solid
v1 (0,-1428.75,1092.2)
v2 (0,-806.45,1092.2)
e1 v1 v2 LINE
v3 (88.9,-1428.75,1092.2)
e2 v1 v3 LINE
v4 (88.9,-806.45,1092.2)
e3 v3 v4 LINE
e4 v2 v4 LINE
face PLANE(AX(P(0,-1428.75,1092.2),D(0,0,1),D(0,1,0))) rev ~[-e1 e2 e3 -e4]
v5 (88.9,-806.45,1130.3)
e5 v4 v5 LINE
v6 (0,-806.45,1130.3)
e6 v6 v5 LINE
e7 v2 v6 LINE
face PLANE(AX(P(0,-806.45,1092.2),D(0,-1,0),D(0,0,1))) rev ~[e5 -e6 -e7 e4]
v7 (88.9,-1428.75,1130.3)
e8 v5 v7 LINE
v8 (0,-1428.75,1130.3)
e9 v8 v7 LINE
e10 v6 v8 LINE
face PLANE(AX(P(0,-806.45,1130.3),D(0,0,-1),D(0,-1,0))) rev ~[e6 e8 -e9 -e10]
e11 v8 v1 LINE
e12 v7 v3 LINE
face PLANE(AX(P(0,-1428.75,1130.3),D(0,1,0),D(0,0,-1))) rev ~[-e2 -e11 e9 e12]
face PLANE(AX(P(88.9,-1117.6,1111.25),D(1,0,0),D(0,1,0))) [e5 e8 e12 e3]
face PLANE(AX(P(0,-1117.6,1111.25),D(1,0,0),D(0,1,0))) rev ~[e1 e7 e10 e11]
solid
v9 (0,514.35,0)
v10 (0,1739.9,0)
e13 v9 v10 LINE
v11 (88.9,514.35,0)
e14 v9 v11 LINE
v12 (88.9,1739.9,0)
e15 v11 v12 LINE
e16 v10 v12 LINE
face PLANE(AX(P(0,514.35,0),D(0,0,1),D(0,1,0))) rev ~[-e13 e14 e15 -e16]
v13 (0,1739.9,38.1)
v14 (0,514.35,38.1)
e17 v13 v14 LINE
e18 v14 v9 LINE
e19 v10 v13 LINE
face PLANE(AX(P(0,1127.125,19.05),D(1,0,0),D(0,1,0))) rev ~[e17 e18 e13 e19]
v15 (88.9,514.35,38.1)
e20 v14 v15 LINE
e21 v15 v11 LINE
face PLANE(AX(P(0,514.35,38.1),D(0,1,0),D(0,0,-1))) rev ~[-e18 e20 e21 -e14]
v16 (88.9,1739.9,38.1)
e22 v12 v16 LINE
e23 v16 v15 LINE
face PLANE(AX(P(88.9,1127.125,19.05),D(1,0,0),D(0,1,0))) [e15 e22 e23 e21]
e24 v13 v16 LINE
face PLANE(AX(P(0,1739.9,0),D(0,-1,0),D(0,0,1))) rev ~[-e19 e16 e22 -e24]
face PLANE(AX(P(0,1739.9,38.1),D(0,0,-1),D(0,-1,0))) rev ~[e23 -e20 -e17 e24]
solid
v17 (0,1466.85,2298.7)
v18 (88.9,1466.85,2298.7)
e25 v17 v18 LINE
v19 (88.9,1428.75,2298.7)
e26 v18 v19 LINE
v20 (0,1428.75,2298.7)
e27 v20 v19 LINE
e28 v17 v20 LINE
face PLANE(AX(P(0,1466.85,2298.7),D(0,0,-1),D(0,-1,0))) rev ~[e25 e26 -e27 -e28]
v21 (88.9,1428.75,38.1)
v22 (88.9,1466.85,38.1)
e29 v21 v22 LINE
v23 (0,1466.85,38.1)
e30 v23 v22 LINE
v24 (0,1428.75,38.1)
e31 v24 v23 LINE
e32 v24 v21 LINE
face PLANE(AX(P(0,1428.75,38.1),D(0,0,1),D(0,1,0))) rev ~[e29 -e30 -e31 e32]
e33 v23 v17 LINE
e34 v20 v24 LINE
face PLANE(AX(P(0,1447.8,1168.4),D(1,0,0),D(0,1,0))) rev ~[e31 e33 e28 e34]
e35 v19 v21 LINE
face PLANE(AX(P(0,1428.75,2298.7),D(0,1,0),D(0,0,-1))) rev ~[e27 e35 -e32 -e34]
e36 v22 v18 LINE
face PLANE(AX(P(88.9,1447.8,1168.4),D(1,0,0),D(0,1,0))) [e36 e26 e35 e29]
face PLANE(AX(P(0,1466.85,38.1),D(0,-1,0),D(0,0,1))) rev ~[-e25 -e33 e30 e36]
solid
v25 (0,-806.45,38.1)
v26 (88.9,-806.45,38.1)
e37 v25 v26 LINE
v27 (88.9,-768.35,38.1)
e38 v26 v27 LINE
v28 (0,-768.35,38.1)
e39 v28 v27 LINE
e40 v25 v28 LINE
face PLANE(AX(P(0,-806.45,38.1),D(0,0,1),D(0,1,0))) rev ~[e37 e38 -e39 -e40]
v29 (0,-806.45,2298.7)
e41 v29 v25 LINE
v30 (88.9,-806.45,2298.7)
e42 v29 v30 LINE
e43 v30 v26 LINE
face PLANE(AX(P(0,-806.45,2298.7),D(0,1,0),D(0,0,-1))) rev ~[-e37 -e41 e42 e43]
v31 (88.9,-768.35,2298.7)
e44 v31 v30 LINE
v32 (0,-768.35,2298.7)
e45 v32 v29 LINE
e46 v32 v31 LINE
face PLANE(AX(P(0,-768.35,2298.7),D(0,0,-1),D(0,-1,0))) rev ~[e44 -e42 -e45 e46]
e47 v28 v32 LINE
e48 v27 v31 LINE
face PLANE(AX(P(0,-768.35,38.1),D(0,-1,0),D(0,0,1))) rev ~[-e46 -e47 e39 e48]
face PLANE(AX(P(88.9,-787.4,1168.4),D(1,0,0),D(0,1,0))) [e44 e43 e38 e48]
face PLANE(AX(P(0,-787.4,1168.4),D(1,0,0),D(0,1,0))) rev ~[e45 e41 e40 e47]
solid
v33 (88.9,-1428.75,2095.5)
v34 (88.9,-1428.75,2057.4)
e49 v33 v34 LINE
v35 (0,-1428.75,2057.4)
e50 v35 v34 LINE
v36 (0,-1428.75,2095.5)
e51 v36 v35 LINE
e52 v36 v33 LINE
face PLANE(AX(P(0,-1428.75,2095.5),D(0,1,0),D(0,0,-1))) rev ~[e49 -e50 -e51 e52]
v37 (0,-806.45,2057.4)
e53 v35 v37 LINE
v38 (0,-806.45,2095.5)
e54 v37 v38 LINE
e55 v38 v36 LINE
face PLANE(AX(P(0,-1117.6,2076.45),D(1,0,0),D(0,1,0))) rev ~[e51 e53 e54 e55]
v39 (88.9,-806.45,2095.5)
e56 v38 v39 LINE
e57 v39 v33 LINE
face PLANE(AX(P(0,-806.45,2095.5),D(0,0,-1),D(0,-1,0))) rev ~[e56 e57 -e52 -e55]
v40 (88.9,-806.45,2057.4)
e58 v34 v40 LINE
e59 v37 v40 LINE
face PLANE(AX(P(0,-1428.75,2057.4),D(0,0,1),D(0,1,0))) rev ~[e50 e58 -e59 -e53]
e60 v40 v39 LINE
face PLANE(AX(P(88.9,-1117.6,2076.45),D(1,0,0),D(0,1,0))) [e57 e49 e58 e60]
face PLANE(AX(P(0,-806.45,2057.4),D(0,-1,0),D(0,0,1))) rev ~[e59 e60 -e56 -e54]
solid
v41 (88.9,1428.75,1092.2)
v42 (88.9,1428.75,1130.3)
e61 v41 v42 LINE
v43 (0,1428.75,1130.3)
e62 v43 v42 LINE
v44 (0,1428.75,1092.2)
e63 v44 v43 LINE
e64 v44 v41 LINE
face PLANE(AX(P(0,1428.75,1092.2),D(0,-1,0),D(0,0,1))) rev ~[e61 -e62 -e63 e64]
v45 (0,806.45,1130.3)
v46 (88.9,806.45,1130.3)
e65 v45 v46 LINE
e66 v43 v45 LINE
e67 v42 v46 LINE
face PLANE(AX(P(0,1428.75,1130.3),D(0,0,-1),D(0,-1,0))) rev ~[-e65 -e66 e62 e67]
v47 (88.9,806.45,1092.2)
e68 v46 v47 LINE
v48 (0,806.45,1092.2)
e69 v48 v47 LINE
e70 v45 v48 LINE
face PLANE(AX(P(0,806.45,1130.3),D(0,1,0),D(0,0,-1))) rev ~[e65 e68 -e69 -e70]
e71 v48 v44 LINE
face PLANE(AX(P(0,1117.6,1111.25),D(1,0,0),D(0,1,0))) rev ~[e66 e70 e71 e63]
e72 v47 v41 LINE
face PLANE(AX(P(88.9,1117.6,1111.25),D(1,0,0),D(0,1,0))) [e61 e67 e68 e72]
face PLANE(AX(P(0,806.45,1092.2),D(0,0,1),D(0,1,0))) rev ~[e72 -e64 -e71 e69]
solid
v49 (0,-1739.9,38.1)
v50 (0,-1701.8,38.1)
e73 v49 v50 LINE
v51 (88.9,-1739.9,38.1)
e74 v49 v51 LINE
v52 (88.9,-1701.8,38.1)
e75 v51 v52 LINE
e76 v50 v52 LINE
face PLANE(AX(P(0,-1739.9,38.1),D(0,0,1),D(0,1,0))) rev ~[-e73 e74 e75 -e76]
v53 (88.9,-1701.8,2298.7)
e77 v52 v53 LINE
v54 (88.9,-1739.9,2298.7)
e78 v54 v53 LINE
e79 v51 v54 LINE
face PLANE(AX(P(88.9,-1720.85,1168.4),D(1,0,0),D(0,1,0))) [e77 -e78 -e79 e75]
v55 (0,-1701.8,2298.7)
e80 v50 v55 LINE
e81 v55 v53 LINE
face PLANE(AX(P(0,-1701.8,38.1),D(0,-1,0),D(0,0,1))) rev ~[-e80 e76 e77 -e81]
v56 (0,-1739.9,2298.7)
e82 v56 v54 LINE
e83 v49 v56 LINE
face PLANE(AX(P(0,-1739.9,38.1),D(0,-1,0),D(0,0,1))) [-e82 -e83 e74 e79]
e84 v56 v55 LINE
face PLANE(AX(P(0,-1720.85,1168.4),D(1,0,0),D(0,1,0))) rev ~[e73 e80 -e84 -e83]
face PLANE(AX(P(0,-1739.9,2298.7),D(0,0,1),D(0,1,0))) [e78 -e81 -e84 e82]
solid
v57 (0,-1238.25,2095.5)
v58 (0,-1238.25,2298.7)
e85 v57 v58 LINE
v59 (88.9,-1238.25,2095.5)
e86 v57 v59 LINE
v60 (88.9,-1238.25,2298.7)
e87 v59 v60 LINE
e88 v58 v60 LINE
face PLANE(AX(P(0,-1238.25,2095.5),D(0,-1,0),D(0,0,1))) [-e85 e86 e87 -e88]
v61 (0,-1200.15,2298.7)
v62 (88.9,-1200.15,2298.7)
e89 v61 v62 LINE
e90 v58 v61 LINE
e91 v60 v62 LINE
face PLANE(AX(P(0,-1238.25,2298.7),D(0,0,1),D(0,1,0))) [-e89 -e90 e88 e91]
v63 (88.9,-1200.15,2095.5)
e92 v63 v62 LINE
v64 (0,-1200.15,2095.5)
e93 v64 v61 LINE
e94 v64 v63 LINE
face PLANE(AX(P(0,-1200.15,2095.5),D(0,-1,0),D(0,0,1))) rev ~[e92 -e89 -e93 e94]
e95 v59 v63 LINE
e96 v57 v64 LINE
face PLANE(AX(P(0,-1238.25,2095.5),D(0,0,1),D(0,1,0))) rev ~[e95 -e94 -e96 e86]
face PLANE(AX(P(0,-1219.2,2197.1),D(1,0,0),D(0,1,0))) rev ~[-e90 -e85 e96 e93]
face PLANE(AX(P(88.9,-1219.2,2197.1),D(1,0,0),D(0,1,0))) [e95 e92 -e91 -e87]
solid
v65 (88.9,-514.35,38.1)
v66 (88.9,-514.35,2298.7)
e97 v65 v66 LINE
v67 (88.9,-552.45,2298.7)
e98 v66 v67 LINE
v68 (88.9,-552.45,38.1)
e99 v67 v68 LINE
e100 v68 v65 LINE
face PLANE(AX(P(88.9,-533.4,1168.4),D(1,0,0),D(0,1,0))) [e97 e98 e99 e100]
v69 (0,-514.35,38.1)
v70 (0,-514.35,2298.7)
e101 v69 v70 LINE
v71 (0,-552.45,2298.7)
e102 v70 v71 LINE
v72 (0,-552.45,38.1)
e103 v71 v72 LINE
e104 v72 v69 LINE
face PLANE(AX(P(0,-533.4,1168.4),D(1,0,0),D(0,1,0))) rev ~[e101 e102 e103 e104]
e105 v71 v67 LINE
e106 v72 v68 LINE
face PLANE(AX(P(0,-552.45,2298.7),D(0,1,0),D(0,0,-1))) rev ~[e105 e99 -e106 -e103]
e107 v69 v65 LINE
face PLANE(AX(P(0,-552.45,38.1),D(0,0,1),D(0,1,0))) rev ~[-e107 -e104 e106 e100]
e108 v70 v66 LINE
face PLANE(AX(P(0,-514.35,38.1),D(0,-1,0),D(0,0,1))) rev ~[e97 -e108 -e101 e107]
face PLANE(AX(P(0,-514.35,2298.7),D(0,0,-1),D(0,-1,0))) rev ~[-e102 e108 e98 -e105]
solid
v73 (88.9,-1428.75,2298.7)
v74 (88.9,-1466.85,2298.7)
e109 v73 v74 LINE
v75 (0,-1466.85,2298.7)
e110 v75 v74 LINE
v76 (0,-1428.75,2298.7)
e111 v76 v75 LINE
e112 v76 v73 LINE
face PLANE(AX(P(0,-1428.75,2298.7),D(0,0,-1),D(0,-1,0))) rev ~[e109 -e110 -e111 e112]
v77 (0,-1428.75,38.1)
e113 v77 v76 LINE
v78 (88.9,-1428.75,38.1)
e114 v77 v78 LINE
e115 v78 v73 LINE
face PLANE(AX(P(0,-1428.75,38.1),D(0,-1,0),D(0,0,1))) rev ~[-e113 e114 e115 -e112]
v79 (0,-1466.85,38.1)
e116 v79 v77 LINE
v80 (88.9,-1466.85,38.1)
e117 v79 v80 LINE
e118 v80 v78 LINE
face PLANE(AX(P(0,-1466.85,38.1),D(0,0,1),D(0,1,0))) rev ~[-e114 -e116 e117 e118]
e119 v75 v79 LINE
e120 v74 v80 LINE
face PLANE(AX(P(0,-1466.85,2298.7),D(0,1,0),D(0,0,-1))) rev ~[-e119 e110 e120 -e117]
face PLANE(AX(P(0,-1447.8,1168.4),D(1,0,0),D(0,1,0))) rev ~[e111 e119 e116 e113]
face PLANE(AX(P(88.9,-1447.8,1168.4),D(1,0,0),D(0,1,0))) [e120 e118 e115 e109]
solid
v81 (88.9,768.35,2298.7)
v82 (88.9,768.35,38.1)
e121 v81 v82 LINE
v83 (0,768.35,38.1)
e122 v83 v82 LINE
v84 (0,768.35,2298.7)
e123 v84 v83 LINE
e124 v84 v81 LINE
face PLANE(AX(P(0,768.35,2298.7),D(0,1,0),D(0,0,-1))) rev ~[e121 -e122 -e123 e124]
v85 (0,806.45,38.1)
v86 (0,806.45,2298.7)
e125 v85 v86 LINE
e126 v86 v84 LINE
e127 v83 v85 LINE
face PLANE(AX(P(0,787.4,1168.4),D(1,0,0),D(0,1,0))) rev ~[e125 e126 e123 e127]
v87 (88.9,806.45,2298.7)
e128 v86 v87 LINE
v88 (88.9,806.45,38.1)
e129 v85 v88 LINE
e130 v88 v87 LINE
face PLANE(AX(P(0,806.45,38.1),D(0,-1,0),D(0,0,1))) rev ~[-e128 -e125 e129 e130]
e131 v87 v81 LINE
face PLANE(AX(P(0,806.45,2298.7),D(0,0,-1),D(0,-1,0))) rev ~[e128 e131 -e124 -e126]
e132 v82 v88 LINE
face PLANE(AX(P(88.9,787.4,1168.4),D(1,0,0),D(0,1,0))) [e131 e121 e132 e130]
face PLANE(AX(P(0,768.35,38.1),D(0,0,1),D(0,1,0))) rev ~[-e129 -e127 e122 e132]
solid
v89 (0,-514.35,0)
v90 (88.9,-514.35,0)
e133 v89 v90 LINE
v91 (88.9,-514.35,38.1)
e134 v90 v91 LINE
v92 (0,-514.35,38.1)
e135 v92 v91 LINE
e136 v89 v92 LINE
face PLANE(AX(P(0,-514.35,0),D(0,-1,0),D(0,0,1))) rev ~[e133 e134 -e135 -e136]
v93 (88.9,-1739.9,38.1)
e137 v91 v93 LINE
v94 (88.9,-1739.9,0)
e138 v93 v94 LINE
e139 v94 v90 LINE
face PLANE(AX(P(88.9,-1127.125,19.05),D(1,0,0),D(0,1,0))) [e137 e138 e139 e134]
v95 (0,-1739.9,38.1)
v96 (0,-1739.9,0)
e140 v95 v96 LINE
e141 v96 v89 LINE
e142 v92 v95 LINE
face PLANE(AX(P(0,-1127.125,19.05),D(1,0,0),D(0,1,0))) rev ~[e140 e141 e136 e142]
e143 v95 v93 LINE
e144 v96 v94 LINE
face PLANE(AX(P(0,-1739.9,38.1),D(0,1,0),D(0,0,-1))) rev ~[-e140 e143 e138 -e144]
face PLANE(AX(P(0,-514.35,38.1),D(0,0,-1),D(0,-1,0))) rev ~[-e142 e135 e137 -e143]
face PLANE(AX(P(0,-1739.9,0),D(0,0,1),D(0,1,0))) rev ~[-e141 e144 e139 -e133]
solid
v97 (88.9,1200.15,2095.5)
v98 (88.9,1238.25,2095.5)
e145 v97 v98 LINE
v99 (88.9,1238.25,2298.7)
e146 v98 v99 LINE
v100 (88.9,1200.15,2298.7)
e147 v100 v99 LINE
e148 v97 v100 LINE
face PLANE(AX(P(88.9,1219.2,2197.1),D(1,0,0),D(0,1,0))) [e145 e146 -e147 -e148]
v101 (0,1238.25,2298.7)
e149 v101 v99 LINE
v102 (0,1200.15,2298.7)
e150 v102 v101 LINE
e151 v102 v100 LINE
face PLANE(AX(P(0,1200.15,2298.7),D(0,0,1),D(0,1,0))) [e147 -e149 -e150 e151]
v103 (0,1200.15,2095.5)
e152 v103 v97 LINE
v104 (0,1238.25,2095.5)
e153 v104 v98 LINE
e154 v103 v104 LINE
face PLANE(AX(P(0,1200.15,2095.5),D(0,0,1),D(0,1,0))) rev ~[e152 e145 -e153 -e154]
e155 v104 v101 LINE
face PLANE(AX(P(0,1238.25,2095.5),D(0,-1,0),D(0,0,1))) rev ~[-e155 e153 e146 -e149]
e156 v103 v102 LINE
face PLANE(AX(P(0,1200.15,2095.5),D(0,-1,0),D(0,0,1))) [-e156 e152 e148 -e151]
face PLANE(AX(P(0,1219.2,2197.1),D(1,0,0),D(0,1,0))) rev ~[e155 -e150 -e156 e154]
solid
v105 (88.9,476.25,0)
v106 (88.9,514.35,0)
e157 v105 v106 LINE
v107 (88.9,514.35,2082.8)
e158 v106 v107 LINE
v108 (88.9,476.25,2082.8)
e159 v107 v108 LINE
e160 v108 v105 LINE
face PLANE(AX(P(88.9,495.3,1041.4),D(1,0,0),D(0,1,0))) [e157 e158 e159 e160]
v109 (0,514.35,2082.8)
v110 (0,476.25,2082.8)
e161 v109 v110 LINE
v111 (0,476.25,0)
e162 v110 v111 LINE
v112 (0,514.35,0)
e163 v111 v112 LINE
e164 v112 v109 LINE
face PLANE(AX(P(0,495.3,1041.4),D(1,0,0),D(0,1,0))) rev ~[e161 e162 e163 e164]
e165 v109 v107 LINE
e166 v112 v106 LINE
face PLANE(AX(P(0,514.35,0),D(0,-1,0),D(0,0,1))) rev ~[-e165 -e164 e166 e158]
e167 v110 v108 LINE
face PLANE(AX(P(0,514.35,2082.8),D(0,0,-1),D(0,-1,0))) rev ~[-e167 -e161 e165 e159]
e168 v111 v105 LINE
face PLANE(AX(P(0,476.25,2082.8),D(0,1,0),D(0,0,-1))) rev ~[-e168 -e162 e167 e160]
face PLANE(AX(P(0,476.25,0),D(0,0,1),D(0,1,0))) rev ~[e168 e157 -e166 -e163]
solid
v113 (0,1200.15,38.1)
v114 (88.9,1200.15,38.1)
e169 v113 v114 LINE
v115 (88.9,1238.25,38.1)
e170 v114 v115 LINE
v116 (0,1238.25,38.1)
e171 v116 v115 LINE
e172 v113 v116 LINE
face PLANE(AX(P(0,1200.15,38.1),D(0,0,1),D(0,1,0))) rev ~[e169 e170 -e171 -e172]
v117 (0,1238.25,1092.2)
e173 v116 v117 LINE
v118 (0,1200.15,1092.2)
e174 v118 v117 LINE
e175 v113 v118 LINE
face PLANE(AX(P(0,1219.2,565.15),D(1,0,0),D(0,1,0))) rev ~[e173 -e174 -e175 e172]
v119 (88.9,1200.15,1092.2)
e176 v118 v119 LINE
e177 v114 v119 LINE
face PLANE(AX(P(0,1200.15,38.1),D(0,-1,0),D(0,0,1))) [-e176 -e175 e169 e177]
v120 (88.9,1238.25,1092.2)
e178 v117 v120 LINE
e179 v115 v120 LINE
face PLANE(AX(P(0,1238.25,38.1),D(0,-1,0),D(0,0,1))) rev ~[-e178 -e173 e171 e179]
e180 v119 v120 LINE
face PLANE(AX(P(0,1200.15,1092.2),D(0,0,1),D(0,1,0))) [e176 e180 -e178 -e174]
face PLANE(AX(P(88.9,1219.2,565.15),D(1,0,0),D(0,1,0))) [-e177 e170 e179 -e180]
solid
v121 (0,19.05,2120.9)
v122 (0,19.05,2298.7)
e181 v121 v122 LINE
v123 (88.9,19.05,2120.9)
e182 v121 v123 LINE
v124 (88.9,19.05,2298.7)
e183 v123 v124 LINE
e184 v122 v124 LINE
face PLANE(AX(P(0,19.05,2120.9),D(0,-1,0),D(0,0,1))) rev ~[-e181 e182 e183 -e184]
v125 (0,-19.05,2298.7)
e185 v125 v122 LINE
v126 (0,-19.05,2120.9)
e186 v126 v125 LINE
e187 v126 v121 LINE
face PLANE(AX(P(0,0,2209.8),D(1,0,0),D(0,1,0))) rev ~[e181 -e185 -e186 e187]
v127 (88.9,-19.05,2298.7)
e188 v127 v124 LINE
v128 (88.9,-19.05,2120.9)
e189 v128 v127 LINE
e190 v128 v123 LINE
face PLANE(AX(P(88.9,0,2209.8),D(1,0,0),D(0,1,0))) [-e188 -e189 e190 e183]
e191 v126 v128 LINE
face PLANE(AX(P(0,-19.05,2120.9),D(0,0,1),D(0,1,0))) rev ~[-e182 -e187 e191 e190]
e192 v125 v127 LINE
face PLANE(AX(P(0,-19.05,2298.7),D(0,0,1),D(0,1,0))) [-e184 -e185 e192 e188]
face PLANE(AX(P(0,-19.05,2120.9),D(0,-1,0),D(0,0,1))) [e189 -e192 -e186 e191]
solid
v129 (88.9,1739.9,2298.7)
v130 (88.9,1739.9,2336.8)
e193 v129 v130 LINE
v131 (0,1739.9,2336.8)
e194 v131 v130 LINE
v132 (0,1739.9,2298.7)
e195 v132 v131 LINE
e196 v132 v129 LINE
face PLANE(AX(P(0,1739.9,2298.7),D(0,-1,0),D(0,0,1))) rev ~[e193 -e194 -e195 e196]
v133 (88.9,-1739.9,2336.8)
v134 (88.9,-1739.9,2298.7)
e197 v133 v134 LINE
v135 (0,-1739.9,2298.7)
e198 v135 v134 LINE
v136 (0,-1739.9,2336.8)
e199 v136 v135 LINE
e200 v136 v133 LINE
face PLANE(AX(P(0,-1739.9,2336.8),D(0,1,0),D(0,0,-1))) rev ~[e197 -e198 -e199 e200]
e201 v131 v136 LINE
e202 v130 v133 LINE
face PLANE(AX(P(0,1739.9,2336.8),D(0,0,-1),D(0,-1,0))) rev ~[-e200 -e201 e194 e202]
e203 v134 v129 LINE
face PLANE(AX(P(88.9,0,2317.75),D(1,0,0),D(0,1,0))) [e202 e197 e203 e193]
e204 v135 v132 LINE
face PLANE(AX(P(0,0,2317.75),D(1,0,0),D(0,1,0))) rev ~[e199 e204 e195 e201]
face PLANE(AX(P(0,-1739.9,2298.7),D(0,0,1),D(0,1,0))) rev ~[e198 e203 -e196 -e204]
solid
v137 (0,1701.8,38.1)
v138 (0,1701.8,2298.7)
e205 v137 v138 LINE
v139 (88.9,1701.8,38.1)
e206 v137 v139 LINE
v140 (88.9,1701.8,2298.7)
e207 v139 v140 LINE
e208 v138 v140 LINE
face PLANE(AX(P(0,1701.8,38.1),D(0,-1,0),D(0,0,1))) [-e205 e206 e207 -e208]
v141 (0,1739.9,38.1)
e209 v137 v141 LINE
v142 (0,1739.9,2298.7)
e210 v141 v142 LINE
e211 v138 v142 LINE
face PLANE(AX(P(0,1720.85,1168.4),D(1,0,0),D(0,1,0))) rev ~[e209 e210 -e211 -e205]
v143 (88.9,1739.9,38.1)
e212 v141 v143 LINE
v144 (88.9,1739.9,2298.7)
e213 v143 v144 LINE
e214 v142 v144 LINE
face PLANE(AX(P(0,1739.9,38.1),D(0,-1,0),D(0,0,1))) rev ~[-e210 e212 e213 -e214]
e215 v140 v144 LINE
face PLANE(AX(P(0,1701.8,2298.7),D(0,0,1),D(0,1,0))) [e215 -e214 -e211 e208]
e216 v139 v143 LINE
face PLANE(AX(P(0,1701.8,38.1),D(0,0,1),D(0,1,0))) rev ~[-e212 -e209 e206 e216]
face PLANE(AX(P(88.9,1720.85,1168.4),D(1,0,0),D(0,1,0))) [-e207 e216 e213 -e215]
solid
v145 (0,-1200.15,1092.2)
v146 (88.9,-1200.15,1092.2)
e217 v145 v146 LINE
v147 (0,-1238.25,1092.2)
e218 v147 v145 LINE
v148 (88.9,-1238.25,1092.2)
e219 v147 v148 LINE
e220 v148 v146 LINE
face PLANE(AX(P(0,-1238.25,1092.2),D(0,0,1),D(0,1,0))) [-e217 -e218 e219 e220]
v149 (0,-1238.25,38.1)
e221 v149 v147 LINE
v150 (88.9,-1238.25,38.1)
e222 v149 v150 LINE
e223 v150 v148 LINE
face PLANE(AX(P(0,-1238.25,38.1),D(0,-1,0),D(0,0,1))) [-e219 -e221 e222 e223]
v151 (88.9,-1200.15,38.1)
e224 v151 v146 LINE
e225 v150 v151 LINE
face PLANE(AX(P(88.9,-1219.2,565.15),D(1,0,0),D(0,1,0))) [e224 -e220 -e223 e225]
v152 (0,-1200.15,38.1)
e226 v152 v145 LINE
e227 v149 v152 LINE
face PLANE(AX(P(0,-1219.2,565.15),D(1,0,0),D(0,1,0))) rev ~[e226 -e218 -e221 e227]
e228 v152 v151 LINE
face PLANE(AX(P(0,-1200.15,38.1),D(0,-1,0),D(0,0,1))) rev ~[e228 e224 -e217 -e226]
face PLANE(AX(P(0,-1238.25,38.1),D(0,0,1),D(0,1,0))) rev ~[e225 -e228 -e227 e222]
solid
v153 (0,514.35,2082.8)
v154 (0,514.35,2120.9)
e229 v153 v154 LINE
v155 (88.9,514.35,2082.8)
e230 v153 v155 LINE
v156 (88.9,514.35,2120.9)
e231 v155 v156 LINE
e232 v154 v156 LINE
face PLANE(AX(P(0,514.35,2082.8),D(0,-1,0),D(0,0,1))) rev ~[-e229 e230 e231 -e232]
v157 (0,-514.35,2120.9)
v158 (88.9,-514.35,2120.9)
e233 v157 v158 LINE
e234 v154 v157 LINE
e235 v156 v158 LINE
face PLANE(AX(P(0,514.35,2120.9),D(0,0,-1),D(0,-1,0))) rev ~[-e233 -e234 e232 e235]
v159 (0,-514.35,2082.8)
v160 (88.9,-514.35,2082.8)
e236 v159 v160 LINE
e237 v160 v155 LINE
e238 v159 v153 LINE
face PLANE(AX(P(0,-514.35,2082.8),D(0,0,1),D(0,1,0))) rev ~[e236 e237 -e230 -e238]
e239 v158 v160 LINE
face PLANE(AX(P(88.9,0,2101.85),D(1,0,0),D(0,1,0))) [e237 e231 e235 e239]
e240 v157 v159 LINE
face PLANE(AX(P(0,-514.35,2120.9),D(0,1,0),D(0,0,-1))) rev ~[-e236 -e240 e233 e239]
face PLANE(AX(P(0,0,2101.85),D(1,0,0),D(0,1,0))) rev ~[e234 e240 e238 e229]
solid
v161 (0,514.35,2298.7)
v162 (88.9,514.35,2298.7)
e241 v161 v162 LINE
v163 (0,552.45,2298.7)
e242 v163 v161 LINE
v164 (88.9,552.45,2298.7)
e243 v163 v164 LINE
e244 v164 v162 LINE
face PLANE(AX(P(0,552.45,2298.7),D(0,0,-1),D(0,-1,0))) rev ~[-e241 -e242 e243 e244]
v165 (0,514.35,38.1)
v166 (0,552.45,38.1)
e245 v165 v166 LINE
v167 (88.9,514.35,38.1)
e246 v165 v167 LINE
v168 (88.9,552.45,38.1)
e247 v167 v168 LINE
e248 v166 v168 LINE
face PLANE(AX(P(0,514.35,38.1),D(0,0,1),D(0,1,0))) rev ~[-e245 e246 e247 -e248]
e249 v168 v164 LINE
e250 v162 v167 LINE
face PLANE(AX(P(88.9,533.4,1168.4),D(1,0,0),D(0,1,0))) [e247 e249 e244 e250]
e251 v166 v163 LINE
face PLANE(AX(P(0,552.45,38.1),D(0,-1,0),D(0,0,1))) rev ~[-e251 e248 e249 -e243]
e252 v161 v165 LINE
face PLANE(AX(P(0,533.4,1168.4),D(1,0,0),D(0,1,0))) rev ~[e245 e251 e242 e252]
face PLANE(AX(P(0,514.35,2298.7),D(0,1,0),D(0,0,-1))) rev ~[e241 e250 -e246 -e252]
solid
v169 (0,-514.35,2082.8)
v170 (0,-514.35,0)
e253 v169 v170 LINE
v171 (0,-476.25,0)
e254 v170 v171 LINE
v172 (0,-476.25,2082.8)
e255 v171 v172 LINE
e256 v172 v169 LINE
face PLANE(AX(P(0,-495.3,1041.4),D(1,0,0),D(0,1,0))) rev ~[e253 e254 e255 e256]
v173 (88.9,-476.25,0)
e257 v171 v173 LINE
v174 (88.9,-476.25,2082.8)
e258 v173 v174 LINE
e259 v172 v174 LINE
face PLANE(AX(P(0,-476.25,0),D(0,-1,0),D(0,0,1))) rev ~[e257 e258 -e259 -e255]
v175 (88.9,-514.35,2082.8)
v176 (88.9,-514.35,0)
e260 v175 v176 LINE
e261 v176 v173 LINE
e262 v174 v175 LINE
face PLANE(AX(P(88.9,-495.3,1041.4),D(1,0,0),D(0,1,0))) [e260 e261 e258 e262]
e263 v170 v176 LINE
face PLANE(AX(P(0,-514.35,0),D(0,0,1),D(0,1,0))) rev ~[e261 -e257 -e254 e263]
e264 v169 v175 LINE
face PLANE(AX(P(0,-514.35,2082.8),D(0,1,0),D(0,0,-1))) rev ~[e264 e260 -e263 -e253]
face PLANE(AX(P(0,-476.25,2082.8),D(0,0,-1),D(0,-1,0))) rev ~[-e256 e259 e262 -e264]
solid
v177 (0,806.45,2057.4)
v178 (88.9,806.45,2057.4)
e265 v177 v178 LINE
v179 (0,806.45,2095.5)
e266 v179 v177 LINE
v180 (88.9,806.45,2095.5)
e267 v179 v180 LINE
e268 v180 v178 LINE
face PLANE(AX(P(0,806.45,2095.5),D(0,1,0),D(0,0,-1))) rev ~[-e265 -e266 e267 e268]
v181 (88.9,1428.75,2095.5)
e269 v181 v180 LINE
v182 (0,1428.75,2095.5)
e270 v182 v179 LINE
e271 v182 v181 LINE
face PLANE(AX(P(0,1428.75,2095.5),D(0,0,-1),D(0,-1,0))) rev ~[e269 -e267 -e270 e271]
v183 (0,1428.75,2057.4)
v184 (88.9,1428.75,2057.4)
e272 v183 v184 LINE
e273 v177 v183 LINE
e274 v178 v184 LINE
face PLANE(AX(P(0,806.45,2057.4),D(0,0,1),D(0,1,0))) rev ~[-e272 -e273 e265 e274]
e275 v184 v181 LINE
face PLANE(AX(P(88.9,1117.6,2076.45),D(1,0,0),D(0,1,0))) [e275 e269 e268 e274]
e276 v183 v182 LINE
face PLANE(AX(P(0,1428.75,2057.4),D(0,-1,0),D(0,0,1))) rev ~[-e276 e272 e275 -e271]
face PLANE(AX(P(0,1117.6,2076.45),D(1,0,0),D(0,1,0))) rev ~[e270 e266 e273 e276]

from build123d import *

# Parameters (mm, degrees)
F0_W     = 38.1
F0_H     = 2260.6
F0_H_2   = 1054.1
F0_H_3   = 203.2
F0_H_4   = 177.8
F1_DEPTH = 88.9
F2_DEPTH = 88.9
F3_DEPTH = 88.9


with BuildPart() as f1:
    # F0 (on Right) → F1 (new body)
    with BuildSketch(Plane.YZ):
        with Locations((-1720.85, 1168.4)):
            Rectangle(F0_W, F0_H)
        Polygon((-1466.85, 2298.7), (-1466.85, 38.1), (-1428.75, 38.1), (-1428.75, 1092.2), (-1428.75, 1130.3), (-1428.75, 2057.4), (-1428.75, 2095.5), (-1428.75, 2298.7), align=None)
        Polygon((-806.45, 2057.4), (-806.45, 1130.3), (-806.45, 1092.2), (-806.45, 38.1), (-768.35, 38.1), (-768.35, 2298.7), (-806.45, 2298.7), (-806.45, 2095.5), align=None)
        Polygon((-552.45, 38.1), (-514.35, 38.1), (-514.35, 2082.8), (-514.35, 2120.9), (-514.35, 2298.7), (-552.45, 2298.7), align=None)
        Polygon((514.35, 2120.9), (514.35, 2082.8), (514.35, 38.1), (552.45, 38.1), (552.45, 2298.7), (514.35, 2298.7), align=None)
        Polygon((768.35, 2298.7), (768.35, 38.1), (806.45, 38.1), (806.45, 1092.2), (806.45, 1130.3), (806.45, 2057.4), (806.45, 2095.5), (806.45, 2298.7), align=None)
        Polygon((1466.85, 38.1), (1466.85, 2298.7), (1428.75, 2298.7), (1428.75, 2095.5), (1428.75, 2057.4), (1428.75, 1130.3), (1428.75, 1092.2), (1428.75, 38.1), align=None)
        with Locations((1720.85, 1168.4)):
            Rectangle(F0_W, F0_H)
        with Locations((-1219.2, 565.15)):
            Rectangle(F0_W, F0_H_2)
        with Locations((-1219.2, 2197.1)):
            Rectangle(F0_W, F0_H_3)
        with Locations((0, 2209.8)):
            Rectangle(F0_W, F0_H_4)
        with Locations((1219.2, 2197.1)):
            Rectangle(F0_W, F0_H_3)
        with Locations((1219.2, 565.15)):
            Rectangle(F0_W, F0_H_2)
    extrude(amount=F1_DEPTH)


with BuildPart() as f2:
    # F0 (on Right) → F2 (new body)
    with BuildSketch(Plane.YZ):
        Polygon((-1238.25, 2095.5), (-1428.75, 2095.5), (-1428.75, 2057.4), (-806.45, 2057.4), (-806.45, 2095.5), (-1200.15, 2095.5), align=None)
        Polygon((-1701.8, 2298.7), (-1466.85, 2298.7), (-1428.75, 2298.7), (-1238.25, 2298.7), (-1200.15, 2298.7), (-806.45, 2298.7), (-768.35, 2298.7), (-552.45, 2298.7), (-514.35, 2298.7), (-19.05, 2298.7), (19.05, 2298.7), (514.35, 2298.7), (552.45, 2298.7), (768.35, 2298.7), (806.45, 2298.7), (1200.15, 2298.7), (1238.25, 2298.7), (1428.75, 2298.7), (1466.85, 2298.7), (1701.8, 2298.7), (1739.9, 2298.7), (1739.9, 2336.8), (-1739.9, 2336.8), (-1739.9, 2298.7), align=None)
        Polygon((-514.35, 2120.9), (-514.35, 2082.8), (-476.25, 2082.8), (476.25, 2082.8), (514.35, 2082.8), (514.35, 2120.9), (19.05, 2120.9), (-19.05, 2120.9), align=None)
        Polygon((1428.75, 2057.4), (1428.75, 2095.5), (1238.25, 2095.5), (1200.15, 2095.5), (806.45, 2095.5), (806.45, 2057.4), align=None)
        Polygon((-1428.75, 1130.3), (-1428.75, 1092.2), (-1238.25, 1092.2), (-1200.15, 1092.2), (-806.45, 1092.2), (-806.45, 1130.3), align=None)
        Polygon((-1428.75, 38.1), (-1466.85, 38.1), (-1701.8, 38.1), (-1739.9, 38.1), (-1739.9, 0), (-514.35, 0), (-514.35, 38.1), (-552.45, 38.1), (-768.35, 38.1), (-806.45, 38.1), (-1200.15, 38.1), (-1238.25, 38.1), align=None)
        Polygon((1739.9, 0), (1739.9, 38.1), (1701.8, 38.1), (1466.85, 38.1), (1428.75, 38.1), (1238.25, 38.1), (1200.15, 38.1), (806.45, 38.1), (768.35, 38.1), (552.45, 38.1), (514.35, 38.1), (514.35, 0), align=None)
        Polygon((1238.25, 1092.2), (1428.75, 1092.2), (1428.75, 1130.3), (806.45, 1130.3), (806.45, 1092.2), (1200.15, 1092.2), align=None)
    extrude(amount=F2_DEPTH)


with BuildPart() as f3:
    # F0 (on Right) → F3 (new body)
    with BuildSketch(Plane.YZ):
        Polygon((-514.35, 38.1), (-514.35, 0), (-476.25, 0), (-476.25, 2082.8), (-514.35, 2082.8), align=None)
        Polygon((514.35, 2082.8), (476.25, 2082.8), (476.25, 0), (514.35, 0), (514.35, 38.1), align=None)
    extrude(amount=F3_DEPTH)


solid = Compound([f1.part, f2.part, f3.part])
